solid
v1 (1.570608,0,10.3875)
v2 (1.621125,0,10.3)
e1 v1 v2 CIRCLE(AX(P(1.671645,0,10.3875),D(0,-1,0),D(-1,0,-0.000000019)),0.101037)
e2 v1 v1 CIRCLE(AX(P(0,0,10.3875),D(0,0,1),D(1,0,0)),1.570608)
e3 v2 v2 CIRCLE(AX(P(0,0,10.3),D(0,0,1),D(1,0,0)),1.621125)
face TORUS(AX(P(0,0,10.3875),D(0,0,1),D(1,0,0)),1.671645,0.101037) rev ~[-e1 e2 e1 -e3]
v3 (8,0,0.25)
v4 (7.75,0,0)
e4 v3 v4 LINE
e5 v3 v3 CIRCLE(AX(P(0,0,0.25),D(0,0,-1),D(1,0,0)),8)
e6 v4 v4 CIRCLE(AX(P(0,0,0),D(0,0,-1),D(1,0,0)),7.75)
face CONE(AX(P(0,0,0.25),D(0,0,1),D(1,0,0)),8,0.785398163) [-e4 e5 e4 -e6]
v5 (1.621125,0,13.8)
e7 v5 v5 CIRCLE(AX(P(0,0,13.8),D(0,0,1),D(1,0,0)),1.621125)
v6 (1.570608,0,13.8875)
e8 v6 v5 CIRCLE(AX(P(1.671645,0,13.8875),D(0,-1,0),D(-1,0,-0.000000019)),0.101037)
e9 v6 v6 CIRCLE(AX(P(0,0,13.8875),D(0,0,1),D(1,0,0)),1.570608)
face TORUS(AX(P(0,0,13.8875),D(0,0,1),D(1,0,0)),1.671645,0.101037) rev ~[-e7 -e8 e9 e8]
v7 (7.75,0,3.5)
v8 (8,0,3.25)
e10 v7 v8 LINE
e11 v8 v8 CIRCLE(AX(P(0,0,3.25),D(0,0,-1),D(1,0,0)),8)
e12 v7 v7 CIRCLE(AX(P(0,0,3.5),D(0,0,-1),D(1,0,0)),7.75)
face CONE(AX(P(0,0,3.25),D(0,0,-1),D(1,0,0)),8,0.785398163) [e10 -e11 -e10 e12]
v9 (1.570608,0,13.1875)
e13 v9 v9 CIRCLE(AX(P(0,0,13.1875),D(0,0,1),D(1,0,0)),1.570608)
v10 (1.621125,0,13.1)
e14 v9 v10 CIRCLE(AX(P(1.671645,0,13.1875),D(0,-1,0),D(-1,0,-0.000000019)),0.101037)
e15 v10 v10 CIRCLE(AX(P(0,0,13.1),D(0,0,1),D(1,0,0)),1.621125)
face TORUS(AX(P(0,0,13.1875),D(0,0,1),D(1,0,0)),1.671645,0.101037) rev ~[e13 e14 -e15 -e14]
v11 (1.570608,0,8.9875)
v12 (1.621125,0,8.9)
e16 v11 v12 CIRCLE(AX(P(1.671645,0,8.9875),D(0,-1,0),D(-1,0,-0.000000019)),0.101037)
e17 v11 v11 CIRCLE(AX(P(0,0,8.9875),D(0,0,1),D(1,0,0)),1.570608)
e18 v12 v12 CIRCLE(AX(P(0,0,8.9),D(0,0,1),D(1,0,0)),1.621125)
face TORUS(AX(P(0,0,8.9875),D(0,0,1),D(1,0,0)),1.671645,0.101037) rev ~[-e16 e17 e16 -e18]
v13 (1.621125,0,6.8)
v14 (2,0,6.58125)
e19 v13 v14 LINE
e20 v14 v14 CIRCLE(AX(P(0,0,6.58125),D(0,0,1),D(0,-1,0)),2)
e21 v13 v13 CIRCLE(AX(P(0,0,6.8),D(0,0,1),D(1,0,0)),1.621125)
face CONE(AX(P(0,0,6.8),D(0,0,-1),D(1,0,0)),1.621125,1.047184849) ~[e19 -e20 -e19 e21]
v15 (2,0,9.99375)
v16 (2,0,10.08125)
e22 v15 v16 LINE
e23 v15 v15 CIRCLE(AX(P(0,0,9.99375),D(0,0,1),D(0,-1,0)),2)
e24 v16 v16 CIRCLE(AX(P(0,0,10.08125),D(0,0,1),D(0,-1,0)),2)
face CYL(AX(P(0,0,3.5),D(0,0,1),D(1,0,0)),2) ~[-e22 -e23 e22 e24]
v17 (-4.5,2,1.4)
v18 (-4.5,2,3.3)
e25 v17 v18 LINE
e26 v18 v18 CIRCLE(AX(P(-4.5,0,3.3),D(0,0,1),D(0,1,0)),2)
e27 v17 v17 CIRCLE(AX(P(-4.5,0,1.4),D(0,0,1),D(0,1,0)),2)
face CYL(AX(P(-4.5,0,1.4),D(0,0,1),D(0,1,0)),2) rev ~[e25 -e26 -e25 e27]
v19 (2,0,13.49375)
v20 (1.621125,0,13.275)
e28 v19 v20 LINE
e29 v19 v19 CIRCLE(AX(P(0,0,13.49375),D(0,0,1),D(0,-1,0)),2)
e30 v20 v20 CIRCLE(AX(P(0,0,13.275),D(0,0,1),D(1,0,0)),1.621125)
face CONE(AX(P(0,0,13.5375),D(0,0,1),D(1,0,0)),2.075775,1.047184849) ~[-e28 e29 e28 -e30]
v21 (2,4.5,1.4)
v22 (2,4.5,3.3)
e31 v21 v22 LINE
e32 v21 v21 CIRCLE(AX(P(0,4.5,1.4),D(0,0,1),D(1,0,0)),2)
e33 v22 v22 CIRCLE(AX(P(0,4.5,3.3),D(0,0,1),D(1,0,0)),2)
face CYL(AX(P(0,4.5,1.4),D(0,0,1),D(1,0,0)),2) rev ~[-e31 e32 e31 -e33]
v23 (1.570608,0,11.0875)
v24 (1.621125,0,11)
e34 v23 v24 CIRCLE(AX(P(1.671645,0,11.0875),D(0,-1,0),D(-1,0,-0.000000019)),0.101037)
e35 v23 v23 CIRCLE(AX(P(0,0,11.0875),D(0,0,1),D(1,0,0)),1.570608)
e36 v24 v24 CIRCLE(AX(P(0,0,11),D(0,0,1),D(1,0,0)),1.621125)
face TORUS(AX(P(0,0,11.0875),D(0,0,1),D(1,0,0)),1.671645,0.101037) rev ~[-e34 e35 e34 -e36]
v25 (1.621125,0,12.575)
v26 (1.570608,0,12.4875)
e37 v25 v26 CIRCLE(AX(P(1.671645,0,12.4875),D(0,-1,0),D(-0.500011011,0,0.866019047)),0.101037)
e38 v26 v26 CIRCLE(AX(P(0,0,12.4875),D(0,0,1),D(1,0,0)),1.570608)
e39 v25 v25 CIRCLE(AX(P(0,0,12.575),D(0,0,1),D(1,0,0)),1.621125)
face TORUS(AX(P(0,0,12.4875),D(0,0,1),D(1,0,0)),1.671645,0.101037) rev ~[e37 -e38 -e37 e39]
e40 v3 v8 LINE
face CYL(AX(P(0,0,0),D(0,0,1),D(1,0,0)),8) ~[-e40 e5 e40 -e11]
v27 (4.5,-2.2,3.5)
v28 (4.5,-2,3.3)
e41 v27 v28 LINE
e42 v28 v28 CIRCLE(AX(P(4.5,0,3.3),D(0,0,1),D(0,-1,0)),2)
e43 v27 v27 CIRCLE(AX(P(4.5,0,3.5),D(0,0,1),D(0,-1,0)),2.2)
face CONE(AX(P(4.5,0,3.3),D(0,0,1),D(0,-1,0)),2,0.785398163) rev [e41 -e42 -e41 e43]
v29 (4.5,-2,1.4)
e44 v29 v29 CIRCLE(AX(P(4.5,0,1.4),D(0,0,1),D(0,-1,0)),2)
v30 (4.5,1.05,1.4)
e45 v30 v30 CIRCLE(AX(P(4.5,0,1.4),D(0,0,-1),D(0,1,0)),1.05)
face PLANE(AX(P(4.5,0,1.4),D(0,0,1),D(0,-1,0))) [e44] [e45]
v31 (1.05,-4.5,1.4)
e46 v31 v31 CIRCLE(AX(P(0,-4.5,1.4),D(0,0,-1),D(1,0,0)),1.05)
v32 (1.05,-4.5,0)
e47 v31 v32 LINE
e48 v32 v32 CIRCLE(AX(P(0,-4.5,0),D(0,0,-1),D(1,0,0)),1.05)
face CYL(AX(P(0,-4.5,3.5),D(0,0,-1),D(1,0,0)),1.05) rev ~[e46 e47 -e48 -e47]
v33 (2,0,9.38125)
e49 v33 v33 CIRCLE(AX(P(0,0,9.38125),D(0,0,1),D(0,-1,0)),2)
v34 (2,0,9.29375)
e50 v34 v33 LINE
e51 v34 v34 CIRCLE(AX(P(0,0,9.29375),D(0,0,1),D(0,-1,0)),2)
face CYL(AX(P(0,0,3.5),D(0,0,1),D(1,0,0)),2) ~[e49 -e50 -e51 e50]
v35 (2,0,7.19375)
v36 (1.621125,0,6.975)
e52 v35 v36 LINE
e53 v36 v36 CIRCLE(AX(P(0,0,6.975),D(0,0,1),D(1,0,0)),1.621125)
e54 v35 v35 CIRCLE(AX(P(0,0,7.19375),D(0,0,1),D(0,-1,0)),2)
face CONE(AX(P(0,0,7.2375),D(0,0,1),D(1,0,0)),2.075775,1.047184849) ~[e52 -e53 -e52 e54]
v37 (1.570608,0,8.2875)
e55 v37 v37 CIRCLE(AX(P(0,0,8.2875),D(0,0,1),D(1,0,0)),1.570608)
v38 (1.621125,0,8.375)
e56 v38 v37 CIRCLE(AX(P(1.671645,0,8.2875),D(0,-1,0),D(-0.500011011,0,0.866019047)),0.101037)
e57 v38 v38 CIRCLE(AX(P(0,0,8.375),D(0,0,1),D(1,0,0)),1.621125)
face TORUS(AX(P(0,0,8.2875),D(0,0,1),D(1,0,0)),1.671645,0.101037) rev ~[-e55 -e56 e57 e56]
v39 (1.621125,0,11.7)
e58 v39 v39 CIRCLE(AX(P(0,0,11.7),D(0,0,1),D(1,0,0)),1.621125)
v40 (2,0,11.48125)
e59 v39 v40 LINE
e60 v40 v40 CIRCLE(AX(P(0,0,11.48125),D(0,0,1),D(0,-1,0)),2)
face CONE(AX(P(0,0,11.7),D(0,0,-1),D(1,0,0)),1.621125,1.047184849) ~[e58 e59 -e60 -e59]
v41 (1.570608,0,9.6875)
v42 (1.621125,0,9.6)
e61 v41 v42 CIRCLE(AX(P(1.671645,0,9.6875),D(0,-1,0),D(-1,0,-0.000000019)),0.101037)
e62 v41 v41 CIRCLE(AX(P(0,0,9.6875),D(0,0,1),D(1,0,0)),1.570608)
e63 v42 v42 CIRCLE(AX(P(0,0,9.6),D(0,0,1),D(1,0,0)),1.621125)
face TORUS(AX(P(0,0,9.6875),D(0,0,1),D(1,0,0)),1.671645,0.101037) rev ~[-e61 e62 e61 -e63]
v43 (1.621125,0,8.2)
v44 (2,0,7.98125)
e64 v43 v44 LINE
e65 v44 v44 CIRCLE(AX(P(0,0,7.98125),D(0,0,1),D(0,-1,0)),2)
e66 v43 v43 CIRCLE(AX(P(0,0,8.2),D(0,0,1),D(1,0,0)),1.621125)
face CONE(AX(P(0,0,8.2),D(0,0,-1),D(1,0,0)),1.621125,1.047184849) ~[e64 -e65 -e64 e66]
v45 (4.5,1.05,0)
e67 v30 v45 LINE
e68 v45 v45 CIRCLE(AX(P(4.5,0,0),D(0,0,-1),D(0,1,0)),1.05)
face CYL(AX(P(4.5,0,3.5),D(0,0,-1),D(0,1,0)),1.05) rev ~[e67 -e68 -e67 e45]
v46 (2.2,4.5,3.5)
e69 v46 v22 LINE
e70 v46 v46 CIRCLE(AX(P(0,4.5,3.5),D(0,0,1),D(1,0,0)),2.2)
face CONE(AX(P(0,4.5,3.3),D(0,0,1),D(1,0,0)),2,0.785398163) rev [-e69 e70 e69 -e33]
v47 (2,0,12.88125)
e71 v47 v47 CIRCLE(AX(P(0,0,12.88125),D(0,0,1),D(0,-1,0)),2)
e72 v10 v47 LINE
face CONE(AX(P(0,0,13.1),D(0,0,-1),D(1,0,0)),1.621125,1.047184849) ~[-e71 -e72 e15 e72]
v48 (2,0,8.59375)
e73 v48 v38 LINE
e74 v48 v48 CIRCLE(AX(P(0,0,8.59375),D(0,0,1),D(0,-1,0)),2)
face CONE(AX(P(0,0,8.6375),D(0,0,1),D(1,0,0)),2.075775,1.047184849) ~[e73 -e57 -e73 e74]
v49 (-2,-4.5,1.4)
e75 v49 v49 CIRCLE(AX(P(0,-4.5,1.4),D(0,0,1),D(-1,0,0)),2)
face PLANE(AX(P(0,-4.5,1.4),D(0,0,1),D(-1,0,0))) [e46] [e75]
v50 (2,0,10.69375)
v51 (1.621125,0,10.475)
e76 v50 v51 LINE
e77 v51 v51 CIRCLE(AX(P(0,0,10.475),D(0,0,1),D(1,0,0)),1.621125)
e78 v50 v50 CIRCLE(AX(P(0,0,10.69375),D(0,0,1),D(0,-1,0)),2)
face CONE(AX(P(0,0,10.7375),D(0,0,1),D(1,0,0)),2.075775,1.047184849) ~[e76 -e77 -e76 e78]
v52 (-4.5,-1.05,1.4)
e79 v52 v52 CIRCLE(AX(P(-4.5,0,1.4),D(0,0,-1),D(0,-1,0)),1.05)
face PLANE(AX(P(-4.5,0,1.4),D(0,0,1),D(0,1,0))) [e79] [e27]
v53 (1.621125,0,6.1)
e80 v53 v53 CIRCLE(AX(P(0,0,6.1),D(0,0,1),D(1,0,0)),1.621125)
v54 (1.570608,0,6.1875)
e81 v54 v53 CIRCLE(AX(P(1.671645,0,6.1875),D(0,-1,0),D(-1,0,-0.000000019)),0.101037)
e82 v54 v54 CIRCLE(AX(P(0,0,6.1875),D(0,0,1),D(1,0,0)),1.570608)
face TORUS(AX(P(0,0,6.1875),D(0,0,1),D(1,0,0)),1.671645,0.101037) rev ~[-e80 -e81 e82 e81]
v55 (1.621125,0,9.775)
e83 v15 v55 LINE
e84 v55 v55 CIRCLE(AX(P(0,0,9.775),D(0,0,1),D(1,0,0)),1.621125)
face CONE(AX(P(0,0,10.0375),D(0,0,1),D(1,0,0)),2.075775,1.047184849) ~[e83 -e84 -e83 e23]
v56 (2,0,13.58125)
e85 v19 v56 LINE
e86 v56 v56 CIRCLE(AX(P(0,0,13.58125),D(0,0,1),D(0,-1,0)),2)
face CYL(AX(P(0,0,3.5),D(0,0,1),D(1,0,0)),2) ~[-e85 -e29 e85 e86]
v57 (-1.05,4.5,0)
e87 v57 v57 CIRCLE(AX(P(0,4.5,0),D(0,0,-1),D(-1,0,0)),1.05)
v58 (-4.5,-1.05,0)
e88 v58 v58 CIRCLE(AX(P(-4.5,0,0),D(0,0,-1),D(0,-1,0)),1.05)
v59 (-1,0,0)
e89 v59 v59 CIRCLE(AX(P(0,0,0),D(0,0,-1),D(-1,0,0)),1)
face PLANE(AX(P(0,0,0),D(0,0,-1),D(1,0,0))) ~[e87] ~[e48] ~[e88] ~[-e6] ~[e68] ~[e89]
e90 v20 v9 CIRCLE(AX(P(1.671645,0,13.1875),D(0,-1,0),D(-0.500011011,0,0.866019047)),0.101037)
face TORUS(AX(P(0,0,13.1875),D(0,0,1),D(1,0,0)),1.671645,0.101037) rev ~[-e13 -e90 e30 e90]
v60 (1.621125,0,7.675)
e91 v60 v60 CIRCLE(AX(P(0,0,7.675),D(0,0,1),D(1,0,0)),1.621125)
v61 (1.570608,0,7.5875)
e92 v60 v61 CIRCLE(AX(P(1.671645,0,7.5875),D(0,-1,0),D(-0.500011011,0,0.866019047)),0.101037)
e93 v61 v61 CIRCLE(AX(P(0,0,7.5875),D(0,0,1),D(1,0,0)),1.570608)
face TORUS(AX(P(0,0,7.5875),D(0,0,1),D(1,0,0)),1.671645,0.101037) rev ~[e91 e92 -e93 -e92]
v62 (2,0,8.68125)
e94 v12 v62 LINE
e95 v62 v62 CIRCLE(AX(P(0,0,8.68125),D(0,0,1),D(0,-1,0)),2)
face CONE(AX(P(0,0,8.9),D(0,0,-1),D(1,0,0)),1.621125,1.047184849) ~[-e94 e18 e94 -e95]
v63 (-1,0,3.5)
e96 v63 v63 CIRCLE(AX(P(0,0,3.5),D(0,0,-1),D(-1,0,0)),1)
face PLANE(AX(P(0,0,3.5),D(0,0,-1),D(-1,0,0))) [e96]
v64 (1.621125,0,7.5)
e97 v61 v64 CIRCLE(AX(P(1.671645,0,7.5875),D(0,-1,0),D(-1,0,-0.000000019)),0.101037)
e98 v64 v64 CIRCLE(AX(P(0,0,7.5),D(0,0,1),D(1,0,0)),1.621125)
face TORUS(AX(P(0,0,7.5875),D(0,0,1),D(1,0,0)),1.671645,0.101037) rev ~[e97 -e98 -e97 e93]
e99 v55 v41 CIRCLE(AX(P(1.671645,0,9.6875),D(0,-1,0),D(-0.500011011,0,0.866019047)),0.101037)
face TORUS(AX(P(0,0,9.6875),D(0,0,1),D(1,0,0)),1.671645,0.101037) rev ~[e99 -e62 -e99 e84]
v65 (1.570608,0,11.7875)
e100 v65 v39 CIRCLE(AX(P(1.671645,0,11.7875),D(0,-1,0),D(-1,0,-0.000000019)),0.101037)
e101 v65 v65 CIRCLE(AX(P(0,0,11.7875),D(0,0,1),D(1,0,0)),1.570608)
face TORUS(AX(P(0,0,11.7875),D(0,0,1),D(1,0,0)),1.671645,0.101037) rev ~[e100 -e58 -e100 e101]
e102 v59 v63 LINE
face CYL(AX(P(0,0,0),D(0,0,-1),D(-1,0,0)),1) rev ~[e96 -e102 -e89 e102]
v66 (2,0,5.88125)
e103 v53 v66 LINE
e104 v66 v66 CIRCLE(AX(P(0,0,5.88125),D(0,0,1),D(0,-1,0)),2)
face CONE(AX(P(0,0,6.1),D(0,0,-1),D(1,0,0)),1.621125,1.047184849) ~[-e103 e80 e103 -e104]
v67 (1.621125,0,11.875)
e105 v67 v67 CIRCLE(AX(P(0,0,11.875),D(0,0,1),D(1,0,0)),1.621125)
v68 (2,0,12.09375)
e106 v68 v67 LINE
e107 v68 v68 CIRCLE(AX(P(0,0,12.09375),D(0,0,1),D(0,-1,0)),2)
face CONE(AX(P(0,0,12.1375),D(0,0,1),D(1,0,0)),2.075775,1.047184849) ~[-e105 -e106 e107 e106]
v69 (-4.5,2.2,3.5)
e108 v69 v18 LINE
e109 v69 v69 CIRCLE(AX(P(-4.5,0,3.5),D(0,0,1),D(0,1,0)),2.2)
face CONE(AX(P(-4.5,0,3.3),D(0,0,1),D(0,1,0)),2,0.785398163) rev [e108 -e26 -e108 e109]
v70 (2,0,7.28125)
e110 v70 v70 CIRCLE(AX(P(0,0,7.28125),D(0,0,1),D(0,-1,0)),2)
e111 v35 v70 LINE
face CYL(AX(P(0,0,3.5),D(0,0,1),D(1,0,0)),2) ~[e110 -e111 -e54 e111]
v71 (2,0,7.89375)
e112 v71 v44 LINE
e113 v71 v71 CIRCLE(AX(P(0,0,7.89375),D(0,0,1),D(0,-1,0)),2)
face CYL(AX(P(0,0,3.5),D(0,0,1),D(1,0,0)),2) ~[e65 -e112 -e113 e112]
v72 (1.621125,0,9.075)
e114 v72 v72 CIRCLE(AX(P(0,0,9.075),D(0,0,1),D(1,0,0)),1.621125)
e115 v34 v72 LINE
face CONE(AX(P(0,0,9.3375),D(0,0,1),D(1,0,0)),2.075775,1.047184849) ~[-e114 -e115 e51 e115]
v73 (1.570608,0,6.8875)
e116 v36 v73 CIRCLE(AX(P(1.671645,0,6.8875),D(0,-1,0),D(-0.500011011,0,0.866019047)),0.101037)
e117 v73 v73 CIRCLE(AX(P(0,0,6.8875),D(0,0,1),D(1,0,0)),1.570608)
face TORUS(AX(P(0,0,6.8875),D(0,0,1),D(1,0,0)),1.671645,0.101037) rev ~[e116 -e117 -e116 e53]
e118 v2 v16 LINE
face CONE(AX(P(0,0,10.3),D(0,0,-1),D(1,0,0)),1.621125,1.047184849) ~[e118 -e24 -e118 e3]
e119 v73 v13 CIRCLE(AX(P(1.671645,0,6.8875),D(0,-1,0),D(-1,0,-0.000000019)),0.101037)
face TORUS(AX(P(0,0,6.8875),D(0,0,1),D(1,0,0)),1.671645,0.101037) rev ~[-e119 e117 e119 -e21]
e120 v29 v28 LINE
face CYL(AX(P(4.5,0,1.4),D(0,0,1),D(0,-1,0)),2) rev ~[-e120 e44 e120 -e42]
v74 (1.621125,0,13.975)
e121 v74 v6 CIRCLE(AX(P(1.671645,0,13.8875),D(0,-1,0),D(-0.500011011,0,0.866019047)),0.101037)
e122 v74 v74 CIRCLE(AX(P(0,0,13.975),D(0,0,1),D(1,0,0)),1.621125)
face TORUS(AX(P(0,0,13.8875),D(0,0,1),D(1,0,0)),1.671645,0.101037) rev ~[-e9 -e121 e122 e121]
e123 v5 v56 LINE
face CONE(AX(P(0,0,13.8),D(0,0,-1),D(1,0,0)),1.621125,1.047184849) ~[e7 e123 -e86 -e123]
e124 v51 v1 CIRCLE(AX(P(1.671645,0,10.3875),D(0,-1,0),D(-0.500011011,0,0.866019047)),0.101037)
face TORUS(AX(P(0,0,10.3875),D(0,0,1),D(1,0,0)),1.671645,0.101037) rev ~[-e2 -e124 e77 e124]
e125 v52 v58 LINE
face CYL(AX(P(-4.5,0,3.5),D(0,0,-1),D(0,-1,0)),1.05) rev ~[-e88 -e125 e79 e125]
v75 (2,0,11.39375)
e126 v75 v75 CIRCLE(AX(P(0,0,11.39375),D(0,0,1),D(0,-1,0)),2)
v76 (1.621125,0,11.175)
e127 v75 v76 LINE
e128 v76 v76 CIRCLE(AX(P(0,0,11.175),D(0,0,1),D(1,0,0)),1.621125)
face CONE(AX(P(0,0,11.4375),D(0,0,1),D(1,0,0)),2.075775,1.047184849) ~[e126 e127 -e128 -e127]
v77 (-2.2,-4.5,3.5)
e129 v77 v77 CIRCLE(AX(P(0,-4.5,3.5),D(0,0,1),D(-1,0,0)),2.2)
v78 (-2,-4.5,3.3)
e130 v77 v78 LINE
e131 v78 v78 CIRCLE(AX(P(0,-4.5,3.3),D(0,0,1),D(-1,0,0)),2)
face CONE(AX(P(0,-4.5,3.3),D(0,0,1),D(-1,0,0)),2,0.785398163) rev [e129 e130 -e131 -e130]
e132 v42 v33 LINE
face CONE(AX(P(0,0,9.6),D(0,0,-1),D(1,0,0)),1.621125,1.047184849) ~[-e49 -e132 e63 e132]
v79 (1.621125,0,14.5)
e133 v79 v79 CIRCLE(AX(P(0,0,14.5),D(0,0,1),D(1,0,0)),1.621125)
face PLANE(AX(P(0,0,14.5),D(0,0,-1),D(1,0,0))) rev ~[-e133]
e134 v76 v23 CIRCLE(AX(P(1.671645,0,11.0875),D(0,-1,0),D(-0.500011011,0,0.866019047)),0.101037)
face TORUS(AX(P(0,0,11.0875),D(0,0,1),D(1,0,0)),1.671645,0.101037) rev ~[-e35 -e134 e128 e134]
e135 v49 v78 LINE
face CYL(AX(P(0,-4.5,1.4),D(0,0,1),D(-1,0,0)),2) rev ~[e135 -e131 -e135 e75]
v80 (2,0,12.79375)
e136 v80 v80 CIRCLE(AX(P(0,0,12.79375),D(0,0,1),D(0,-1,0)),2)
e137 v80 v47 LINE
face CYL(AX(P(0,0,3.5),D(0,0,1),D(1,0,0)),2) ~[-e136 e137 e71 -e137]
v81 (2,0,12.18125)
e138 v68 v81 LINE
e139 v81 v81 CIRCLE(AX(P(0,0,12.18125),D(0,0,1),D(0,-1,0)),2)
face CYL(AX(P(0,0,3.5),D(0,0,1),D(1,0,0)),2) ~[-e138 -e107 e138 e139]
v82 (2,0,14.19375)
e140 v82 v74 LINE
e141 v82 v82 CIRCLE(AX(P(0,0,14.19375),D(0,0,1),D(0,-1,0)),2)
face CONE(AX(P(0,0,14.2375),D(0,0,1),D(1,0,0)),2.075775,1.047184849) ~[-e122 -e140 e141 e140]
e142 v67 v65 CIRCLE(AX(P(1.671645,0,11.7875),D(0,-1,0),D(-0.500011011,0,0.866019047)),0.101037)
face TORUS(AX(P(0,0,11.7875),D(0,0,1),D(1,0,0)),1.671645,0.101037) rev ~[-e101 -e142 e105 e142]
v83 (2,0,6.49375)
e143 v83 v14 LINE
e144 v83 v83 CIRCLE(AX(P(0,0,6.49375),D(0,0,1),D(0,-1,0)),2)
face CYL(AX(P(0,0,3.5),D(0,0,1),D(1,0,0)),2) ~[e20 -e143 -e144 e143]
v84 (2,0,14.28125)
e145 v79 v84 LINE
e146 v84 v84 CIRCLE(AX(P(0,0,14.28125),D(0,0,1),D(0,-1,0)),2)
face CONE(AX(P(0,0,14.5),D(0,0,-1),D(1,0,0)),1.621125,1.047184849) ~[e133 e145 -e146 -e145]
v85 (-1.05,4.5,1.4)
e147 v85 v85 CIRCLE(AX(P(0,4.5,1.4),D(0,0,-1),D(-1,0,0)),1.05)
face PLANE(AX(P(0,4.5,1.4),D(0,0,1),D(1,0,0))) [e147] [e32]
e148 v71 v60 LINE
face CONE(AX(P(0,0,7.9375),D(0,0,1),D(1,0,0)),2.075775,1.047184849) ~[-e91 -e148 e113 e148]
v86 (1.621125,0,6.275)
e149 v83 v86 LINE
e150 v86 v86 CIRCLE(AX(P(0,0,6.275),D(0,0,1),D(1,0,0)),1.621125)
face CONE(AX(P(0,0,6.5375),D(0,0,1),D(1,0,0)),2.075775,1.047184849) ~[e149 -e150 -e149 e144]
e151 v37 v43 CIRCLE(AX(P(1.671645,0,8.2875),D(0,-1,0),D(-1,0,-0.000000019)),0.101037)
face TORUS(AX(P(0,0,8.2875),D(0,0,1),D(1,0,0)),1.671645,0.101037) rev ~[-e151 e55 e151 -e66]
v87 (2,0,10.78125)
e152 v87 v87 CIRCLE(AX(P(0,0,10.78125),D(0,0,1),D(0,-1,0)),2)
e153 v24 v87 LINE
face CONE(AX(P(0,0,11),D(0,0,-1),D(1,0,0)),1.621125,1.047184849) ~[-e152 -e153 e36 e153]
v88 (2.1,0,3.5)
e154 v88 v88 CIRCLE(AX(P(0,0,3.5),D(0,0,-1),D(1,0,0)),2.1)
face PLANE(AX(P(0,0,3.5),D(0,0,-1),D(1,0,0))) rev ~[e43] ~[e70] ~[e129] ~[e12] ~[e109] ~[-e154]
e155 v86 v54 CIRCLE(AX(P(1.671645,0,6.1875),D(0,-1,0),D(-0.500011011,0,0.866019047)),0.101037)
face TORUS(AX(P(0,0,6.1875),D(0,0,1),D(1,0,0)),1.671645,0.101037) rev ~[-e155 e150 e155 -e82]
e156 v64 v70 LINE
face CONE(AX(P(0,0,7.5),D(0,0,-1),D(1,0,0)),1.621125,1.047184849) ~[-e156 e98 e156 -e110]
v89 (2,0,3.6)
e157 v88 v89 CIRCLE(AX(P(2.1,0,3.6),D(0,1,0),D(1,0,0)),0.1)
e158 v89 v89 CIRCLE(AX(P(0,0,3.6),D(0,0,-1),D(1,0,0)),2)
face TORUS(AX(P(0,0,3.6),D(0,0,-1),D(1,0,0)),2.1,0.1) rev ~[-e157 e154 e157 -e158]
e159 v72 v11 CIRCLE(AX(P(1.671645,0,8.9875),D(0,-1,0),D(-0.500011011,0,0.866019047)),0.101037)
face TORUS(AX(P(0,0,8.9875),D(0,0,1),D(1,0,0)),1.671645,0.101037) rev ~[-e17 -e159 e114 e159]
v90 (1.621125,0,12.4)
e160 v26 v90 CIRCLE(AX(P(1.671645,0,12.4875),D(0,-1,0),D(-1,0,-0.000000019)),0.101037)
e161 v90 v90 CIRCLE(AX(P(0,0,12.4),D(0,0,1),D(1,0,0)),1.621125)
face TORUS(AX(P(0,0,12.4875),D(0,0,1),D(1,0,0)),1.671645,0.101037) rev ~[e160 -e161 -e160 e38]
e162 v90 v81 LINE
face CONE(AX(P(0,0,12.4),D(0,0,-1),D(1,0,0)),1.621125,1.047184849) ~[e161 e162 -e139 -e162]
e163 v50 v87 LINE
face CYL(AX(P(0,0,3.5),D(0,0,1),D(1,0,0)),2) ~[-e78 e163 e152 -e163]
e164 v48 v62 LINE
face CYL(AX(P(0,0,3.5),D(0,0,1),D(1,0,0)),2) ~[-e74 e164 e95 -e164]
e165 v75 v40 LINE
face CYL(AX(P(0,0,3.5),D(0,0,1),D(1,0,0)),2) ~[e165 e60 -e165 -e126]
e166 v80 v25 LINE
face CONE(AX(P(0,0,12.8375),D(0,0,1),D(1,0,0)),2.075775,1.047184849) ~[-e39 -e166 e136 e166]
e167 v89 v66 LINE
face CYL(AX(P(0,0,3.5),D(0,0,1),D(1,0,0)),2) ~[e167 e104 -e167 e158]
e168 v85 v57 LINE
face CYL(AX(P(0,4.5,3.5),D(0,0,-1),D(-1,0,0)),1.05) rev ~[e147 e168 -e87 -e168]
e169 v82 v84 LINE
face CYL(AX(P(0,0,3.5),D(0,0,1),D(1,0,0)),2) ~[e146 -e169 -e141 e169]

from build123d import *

# Parameters (mm, degrees)
CHAMBRAGE_POUR_VIS_T_TE_HEXAGONALE_M21_D           = 2.1
CHAMBRAGE_POUR_VIS_T_TE_HEXAGONALE_M21_CBORE_D     = 4
CHAMBRAGE_POUR_VIS_T_TE_HEXAGONALE_M21_CBORE_DEPTH = 2.1
R_P_TITION_CIRCULAIRE1_COUNT                       = 4
ESQUISSE4_R                                        = 1
ENL_V_MAT_EXTRU_1_DEPTH                            = 3.5
R_P_TITION_LIN_AIRE1_COUNT                         = 13
R_P_TITION_LIN_AIRE1_PITCH                         = 0.7
CHANFREIN1_SIZE                                    = 0.2
CHANFREIN2_SIZE                                    = 0.25
CONG_2_R                                           = 0.1


with BuildPart() as part:
    # Esquisse1 → Révolution1 (revolve)
    with BuildSketch(Plane(origin=(0, 0, 0), x_dir=(0, 0, -1), z_dir=(1, 0, 0)), mode=Mode.PRIVATE) as r_volution1_sk:
        Polygon((0, 0), (0, 8), (-3.5, 8), (-3.5, 2), (-14.5, 2), (-14.5, 0), align=None)
    revolve(r_volution1_sk.sketch.rotate(Axis((0, 0, 1000), (0, 0, -1)), 90), axis=Axis((0, 0, 1000), (0, 0, -1)))

    # Chambrage pour vis à tête hexagonale M21 (through all)
    with Locations(Plane.XY.offset(3.5)):
        with Locations((0, 4.5)):
            chambrage_pour_vis_t_te_hexagonale_m21 = CounterBoreHole(CHAMBRAGE_POUR_VIS_T_TE_HEXAGONALE_M21_D / 2, CHAMBRAGE_POUR_VIS_T_TE_HEXAGONALE_M21_CBORE_D / 2, CHAMBRAGE_POUR_VIS_T_TE_HEXAGONALE_M21_CBORE_DEPTH)

    # Répétition circulaire1: Chambrage pour vis à tête hexagonale M21 ×4 about axis
    r_p_tition_circulaire1_axis = Axis((0, 0, 0), (0, 0, 1))
    for i in range(1, R_P_TITION_CIRCULAIRE1_COUNT):
        add(chambrage_pour_vis_t_te_hexagonale_m21.rotate(r_p_tition_circulaire1_axis, i * 360 / R_P_TITION_CIRCULAIRE1_COUNT), mode=Mode.SUBTRACT)

    # Esquisse4 → Enlèv. mat.-Extru.1 (cut)
    with BuildSketch(Plane(origin=(0, 0, 0), x_dir=(-1, 0, 0), z_dir=(0, 0, -1))):
        Circle(ESQUISSE4_R)
    extrude(amount=-ENL_V_MAT_EXTRU_1_DEPTH, mode=Mode.SUBTRACT)

    # Esquisse13 → Enlèvement de matière-Révolution1 (revolve, cut)
    with BuildSketch(Plane(origin=(0, 0, 0), x_dir=(0, 0, -1), z_dir=(1, 0, 0)), mode=Mode.PRIVATE) as enl_vement_de_mati_re_r_volution1_sk:
        Polygon((-14.5875, 1.621125), (-14.5875, 2.075775), (-14.9375, 2.075775), (-14.675, 1.621125), align=None)
        Polygon((-14.5, 1.621125), (-14.2375, 2.075775), (-14.5875, 2.075775), (-14.5875, 1.621125), align=None)
        with BuildLine():
            ThreePointArc((-14.5875, 1.570607592), (-14.536982037, 1.584143668), (-14.5, 1.621125))
            Line((-14.5, 1.621125), (-14.5875, 1.621125))
            Line((-14.5875, 1.621125), (-14.5875, 1.570607592))
        make_face()
        with BuildLine():
            Line((-14.5875, 1.570607592), (-14.5875, 1.621125))
            Line((-14.5875, 1.621125), (-14.675, 1.621125))
            ThreePointArc((-14.675, 1.621125), (-14.638017963, 1.584143668), (-14.5875, 1.570607592))
        make_face()
    enl_vement_de_mati_re_r_volution1 = revolve(enl_vement_de_mati_re_r_volution1_sk.sketch.rotate(Axis((0, 0, 1000), (0, 0, 1)), 270), axis=Axis((0, 0, 1000), (0, 0, 1)), mode=Mode.SUBTRACT)

    # Répétition linéaire1: Enlèvement de matière-Révolution1 ×13
    with Locations(*[(0, 0, -i * R_P_TITION_LIN_AIRE1_PITCH) for i in range(1, R_P_TITION_LIN_AIRE1_COUNT)]):
        add(enl_vement_de_mati_re_r_volution1, mode=Mode.SUBTRACT)

    # Chanfrein1
    chanfrein1_edges = [part.edges().sort_by_distance(p)[0] for p in [
        (-2, 4.5, 3.5),
        (-4.5, -2, 3.5),
        (2, -4.5, 3.5),
        (4.5, 2, 3.5),
    ]]
    chamfer(chanfrein1_edges, length=CHANFREIN1_SIZE)

    # Chanfrein2
    chanfrein2_edges = [part.edges().sort_by_distance(p)[0] for p in [
        (-8, 0, 3.5),
        (-8, 0, 0),
    ]]
    chamfer(chanfrein2_edges, length=CHANFREIN2_SIZE)

    # Congé2
    cong_2_edges = [part.edges().sort_by_distance(p)[0] for p in [
        (-2, 0, 3.5),
    ]]
    fillet(cong_2_edges, radius=CONG_2_R)


solid = part.part
